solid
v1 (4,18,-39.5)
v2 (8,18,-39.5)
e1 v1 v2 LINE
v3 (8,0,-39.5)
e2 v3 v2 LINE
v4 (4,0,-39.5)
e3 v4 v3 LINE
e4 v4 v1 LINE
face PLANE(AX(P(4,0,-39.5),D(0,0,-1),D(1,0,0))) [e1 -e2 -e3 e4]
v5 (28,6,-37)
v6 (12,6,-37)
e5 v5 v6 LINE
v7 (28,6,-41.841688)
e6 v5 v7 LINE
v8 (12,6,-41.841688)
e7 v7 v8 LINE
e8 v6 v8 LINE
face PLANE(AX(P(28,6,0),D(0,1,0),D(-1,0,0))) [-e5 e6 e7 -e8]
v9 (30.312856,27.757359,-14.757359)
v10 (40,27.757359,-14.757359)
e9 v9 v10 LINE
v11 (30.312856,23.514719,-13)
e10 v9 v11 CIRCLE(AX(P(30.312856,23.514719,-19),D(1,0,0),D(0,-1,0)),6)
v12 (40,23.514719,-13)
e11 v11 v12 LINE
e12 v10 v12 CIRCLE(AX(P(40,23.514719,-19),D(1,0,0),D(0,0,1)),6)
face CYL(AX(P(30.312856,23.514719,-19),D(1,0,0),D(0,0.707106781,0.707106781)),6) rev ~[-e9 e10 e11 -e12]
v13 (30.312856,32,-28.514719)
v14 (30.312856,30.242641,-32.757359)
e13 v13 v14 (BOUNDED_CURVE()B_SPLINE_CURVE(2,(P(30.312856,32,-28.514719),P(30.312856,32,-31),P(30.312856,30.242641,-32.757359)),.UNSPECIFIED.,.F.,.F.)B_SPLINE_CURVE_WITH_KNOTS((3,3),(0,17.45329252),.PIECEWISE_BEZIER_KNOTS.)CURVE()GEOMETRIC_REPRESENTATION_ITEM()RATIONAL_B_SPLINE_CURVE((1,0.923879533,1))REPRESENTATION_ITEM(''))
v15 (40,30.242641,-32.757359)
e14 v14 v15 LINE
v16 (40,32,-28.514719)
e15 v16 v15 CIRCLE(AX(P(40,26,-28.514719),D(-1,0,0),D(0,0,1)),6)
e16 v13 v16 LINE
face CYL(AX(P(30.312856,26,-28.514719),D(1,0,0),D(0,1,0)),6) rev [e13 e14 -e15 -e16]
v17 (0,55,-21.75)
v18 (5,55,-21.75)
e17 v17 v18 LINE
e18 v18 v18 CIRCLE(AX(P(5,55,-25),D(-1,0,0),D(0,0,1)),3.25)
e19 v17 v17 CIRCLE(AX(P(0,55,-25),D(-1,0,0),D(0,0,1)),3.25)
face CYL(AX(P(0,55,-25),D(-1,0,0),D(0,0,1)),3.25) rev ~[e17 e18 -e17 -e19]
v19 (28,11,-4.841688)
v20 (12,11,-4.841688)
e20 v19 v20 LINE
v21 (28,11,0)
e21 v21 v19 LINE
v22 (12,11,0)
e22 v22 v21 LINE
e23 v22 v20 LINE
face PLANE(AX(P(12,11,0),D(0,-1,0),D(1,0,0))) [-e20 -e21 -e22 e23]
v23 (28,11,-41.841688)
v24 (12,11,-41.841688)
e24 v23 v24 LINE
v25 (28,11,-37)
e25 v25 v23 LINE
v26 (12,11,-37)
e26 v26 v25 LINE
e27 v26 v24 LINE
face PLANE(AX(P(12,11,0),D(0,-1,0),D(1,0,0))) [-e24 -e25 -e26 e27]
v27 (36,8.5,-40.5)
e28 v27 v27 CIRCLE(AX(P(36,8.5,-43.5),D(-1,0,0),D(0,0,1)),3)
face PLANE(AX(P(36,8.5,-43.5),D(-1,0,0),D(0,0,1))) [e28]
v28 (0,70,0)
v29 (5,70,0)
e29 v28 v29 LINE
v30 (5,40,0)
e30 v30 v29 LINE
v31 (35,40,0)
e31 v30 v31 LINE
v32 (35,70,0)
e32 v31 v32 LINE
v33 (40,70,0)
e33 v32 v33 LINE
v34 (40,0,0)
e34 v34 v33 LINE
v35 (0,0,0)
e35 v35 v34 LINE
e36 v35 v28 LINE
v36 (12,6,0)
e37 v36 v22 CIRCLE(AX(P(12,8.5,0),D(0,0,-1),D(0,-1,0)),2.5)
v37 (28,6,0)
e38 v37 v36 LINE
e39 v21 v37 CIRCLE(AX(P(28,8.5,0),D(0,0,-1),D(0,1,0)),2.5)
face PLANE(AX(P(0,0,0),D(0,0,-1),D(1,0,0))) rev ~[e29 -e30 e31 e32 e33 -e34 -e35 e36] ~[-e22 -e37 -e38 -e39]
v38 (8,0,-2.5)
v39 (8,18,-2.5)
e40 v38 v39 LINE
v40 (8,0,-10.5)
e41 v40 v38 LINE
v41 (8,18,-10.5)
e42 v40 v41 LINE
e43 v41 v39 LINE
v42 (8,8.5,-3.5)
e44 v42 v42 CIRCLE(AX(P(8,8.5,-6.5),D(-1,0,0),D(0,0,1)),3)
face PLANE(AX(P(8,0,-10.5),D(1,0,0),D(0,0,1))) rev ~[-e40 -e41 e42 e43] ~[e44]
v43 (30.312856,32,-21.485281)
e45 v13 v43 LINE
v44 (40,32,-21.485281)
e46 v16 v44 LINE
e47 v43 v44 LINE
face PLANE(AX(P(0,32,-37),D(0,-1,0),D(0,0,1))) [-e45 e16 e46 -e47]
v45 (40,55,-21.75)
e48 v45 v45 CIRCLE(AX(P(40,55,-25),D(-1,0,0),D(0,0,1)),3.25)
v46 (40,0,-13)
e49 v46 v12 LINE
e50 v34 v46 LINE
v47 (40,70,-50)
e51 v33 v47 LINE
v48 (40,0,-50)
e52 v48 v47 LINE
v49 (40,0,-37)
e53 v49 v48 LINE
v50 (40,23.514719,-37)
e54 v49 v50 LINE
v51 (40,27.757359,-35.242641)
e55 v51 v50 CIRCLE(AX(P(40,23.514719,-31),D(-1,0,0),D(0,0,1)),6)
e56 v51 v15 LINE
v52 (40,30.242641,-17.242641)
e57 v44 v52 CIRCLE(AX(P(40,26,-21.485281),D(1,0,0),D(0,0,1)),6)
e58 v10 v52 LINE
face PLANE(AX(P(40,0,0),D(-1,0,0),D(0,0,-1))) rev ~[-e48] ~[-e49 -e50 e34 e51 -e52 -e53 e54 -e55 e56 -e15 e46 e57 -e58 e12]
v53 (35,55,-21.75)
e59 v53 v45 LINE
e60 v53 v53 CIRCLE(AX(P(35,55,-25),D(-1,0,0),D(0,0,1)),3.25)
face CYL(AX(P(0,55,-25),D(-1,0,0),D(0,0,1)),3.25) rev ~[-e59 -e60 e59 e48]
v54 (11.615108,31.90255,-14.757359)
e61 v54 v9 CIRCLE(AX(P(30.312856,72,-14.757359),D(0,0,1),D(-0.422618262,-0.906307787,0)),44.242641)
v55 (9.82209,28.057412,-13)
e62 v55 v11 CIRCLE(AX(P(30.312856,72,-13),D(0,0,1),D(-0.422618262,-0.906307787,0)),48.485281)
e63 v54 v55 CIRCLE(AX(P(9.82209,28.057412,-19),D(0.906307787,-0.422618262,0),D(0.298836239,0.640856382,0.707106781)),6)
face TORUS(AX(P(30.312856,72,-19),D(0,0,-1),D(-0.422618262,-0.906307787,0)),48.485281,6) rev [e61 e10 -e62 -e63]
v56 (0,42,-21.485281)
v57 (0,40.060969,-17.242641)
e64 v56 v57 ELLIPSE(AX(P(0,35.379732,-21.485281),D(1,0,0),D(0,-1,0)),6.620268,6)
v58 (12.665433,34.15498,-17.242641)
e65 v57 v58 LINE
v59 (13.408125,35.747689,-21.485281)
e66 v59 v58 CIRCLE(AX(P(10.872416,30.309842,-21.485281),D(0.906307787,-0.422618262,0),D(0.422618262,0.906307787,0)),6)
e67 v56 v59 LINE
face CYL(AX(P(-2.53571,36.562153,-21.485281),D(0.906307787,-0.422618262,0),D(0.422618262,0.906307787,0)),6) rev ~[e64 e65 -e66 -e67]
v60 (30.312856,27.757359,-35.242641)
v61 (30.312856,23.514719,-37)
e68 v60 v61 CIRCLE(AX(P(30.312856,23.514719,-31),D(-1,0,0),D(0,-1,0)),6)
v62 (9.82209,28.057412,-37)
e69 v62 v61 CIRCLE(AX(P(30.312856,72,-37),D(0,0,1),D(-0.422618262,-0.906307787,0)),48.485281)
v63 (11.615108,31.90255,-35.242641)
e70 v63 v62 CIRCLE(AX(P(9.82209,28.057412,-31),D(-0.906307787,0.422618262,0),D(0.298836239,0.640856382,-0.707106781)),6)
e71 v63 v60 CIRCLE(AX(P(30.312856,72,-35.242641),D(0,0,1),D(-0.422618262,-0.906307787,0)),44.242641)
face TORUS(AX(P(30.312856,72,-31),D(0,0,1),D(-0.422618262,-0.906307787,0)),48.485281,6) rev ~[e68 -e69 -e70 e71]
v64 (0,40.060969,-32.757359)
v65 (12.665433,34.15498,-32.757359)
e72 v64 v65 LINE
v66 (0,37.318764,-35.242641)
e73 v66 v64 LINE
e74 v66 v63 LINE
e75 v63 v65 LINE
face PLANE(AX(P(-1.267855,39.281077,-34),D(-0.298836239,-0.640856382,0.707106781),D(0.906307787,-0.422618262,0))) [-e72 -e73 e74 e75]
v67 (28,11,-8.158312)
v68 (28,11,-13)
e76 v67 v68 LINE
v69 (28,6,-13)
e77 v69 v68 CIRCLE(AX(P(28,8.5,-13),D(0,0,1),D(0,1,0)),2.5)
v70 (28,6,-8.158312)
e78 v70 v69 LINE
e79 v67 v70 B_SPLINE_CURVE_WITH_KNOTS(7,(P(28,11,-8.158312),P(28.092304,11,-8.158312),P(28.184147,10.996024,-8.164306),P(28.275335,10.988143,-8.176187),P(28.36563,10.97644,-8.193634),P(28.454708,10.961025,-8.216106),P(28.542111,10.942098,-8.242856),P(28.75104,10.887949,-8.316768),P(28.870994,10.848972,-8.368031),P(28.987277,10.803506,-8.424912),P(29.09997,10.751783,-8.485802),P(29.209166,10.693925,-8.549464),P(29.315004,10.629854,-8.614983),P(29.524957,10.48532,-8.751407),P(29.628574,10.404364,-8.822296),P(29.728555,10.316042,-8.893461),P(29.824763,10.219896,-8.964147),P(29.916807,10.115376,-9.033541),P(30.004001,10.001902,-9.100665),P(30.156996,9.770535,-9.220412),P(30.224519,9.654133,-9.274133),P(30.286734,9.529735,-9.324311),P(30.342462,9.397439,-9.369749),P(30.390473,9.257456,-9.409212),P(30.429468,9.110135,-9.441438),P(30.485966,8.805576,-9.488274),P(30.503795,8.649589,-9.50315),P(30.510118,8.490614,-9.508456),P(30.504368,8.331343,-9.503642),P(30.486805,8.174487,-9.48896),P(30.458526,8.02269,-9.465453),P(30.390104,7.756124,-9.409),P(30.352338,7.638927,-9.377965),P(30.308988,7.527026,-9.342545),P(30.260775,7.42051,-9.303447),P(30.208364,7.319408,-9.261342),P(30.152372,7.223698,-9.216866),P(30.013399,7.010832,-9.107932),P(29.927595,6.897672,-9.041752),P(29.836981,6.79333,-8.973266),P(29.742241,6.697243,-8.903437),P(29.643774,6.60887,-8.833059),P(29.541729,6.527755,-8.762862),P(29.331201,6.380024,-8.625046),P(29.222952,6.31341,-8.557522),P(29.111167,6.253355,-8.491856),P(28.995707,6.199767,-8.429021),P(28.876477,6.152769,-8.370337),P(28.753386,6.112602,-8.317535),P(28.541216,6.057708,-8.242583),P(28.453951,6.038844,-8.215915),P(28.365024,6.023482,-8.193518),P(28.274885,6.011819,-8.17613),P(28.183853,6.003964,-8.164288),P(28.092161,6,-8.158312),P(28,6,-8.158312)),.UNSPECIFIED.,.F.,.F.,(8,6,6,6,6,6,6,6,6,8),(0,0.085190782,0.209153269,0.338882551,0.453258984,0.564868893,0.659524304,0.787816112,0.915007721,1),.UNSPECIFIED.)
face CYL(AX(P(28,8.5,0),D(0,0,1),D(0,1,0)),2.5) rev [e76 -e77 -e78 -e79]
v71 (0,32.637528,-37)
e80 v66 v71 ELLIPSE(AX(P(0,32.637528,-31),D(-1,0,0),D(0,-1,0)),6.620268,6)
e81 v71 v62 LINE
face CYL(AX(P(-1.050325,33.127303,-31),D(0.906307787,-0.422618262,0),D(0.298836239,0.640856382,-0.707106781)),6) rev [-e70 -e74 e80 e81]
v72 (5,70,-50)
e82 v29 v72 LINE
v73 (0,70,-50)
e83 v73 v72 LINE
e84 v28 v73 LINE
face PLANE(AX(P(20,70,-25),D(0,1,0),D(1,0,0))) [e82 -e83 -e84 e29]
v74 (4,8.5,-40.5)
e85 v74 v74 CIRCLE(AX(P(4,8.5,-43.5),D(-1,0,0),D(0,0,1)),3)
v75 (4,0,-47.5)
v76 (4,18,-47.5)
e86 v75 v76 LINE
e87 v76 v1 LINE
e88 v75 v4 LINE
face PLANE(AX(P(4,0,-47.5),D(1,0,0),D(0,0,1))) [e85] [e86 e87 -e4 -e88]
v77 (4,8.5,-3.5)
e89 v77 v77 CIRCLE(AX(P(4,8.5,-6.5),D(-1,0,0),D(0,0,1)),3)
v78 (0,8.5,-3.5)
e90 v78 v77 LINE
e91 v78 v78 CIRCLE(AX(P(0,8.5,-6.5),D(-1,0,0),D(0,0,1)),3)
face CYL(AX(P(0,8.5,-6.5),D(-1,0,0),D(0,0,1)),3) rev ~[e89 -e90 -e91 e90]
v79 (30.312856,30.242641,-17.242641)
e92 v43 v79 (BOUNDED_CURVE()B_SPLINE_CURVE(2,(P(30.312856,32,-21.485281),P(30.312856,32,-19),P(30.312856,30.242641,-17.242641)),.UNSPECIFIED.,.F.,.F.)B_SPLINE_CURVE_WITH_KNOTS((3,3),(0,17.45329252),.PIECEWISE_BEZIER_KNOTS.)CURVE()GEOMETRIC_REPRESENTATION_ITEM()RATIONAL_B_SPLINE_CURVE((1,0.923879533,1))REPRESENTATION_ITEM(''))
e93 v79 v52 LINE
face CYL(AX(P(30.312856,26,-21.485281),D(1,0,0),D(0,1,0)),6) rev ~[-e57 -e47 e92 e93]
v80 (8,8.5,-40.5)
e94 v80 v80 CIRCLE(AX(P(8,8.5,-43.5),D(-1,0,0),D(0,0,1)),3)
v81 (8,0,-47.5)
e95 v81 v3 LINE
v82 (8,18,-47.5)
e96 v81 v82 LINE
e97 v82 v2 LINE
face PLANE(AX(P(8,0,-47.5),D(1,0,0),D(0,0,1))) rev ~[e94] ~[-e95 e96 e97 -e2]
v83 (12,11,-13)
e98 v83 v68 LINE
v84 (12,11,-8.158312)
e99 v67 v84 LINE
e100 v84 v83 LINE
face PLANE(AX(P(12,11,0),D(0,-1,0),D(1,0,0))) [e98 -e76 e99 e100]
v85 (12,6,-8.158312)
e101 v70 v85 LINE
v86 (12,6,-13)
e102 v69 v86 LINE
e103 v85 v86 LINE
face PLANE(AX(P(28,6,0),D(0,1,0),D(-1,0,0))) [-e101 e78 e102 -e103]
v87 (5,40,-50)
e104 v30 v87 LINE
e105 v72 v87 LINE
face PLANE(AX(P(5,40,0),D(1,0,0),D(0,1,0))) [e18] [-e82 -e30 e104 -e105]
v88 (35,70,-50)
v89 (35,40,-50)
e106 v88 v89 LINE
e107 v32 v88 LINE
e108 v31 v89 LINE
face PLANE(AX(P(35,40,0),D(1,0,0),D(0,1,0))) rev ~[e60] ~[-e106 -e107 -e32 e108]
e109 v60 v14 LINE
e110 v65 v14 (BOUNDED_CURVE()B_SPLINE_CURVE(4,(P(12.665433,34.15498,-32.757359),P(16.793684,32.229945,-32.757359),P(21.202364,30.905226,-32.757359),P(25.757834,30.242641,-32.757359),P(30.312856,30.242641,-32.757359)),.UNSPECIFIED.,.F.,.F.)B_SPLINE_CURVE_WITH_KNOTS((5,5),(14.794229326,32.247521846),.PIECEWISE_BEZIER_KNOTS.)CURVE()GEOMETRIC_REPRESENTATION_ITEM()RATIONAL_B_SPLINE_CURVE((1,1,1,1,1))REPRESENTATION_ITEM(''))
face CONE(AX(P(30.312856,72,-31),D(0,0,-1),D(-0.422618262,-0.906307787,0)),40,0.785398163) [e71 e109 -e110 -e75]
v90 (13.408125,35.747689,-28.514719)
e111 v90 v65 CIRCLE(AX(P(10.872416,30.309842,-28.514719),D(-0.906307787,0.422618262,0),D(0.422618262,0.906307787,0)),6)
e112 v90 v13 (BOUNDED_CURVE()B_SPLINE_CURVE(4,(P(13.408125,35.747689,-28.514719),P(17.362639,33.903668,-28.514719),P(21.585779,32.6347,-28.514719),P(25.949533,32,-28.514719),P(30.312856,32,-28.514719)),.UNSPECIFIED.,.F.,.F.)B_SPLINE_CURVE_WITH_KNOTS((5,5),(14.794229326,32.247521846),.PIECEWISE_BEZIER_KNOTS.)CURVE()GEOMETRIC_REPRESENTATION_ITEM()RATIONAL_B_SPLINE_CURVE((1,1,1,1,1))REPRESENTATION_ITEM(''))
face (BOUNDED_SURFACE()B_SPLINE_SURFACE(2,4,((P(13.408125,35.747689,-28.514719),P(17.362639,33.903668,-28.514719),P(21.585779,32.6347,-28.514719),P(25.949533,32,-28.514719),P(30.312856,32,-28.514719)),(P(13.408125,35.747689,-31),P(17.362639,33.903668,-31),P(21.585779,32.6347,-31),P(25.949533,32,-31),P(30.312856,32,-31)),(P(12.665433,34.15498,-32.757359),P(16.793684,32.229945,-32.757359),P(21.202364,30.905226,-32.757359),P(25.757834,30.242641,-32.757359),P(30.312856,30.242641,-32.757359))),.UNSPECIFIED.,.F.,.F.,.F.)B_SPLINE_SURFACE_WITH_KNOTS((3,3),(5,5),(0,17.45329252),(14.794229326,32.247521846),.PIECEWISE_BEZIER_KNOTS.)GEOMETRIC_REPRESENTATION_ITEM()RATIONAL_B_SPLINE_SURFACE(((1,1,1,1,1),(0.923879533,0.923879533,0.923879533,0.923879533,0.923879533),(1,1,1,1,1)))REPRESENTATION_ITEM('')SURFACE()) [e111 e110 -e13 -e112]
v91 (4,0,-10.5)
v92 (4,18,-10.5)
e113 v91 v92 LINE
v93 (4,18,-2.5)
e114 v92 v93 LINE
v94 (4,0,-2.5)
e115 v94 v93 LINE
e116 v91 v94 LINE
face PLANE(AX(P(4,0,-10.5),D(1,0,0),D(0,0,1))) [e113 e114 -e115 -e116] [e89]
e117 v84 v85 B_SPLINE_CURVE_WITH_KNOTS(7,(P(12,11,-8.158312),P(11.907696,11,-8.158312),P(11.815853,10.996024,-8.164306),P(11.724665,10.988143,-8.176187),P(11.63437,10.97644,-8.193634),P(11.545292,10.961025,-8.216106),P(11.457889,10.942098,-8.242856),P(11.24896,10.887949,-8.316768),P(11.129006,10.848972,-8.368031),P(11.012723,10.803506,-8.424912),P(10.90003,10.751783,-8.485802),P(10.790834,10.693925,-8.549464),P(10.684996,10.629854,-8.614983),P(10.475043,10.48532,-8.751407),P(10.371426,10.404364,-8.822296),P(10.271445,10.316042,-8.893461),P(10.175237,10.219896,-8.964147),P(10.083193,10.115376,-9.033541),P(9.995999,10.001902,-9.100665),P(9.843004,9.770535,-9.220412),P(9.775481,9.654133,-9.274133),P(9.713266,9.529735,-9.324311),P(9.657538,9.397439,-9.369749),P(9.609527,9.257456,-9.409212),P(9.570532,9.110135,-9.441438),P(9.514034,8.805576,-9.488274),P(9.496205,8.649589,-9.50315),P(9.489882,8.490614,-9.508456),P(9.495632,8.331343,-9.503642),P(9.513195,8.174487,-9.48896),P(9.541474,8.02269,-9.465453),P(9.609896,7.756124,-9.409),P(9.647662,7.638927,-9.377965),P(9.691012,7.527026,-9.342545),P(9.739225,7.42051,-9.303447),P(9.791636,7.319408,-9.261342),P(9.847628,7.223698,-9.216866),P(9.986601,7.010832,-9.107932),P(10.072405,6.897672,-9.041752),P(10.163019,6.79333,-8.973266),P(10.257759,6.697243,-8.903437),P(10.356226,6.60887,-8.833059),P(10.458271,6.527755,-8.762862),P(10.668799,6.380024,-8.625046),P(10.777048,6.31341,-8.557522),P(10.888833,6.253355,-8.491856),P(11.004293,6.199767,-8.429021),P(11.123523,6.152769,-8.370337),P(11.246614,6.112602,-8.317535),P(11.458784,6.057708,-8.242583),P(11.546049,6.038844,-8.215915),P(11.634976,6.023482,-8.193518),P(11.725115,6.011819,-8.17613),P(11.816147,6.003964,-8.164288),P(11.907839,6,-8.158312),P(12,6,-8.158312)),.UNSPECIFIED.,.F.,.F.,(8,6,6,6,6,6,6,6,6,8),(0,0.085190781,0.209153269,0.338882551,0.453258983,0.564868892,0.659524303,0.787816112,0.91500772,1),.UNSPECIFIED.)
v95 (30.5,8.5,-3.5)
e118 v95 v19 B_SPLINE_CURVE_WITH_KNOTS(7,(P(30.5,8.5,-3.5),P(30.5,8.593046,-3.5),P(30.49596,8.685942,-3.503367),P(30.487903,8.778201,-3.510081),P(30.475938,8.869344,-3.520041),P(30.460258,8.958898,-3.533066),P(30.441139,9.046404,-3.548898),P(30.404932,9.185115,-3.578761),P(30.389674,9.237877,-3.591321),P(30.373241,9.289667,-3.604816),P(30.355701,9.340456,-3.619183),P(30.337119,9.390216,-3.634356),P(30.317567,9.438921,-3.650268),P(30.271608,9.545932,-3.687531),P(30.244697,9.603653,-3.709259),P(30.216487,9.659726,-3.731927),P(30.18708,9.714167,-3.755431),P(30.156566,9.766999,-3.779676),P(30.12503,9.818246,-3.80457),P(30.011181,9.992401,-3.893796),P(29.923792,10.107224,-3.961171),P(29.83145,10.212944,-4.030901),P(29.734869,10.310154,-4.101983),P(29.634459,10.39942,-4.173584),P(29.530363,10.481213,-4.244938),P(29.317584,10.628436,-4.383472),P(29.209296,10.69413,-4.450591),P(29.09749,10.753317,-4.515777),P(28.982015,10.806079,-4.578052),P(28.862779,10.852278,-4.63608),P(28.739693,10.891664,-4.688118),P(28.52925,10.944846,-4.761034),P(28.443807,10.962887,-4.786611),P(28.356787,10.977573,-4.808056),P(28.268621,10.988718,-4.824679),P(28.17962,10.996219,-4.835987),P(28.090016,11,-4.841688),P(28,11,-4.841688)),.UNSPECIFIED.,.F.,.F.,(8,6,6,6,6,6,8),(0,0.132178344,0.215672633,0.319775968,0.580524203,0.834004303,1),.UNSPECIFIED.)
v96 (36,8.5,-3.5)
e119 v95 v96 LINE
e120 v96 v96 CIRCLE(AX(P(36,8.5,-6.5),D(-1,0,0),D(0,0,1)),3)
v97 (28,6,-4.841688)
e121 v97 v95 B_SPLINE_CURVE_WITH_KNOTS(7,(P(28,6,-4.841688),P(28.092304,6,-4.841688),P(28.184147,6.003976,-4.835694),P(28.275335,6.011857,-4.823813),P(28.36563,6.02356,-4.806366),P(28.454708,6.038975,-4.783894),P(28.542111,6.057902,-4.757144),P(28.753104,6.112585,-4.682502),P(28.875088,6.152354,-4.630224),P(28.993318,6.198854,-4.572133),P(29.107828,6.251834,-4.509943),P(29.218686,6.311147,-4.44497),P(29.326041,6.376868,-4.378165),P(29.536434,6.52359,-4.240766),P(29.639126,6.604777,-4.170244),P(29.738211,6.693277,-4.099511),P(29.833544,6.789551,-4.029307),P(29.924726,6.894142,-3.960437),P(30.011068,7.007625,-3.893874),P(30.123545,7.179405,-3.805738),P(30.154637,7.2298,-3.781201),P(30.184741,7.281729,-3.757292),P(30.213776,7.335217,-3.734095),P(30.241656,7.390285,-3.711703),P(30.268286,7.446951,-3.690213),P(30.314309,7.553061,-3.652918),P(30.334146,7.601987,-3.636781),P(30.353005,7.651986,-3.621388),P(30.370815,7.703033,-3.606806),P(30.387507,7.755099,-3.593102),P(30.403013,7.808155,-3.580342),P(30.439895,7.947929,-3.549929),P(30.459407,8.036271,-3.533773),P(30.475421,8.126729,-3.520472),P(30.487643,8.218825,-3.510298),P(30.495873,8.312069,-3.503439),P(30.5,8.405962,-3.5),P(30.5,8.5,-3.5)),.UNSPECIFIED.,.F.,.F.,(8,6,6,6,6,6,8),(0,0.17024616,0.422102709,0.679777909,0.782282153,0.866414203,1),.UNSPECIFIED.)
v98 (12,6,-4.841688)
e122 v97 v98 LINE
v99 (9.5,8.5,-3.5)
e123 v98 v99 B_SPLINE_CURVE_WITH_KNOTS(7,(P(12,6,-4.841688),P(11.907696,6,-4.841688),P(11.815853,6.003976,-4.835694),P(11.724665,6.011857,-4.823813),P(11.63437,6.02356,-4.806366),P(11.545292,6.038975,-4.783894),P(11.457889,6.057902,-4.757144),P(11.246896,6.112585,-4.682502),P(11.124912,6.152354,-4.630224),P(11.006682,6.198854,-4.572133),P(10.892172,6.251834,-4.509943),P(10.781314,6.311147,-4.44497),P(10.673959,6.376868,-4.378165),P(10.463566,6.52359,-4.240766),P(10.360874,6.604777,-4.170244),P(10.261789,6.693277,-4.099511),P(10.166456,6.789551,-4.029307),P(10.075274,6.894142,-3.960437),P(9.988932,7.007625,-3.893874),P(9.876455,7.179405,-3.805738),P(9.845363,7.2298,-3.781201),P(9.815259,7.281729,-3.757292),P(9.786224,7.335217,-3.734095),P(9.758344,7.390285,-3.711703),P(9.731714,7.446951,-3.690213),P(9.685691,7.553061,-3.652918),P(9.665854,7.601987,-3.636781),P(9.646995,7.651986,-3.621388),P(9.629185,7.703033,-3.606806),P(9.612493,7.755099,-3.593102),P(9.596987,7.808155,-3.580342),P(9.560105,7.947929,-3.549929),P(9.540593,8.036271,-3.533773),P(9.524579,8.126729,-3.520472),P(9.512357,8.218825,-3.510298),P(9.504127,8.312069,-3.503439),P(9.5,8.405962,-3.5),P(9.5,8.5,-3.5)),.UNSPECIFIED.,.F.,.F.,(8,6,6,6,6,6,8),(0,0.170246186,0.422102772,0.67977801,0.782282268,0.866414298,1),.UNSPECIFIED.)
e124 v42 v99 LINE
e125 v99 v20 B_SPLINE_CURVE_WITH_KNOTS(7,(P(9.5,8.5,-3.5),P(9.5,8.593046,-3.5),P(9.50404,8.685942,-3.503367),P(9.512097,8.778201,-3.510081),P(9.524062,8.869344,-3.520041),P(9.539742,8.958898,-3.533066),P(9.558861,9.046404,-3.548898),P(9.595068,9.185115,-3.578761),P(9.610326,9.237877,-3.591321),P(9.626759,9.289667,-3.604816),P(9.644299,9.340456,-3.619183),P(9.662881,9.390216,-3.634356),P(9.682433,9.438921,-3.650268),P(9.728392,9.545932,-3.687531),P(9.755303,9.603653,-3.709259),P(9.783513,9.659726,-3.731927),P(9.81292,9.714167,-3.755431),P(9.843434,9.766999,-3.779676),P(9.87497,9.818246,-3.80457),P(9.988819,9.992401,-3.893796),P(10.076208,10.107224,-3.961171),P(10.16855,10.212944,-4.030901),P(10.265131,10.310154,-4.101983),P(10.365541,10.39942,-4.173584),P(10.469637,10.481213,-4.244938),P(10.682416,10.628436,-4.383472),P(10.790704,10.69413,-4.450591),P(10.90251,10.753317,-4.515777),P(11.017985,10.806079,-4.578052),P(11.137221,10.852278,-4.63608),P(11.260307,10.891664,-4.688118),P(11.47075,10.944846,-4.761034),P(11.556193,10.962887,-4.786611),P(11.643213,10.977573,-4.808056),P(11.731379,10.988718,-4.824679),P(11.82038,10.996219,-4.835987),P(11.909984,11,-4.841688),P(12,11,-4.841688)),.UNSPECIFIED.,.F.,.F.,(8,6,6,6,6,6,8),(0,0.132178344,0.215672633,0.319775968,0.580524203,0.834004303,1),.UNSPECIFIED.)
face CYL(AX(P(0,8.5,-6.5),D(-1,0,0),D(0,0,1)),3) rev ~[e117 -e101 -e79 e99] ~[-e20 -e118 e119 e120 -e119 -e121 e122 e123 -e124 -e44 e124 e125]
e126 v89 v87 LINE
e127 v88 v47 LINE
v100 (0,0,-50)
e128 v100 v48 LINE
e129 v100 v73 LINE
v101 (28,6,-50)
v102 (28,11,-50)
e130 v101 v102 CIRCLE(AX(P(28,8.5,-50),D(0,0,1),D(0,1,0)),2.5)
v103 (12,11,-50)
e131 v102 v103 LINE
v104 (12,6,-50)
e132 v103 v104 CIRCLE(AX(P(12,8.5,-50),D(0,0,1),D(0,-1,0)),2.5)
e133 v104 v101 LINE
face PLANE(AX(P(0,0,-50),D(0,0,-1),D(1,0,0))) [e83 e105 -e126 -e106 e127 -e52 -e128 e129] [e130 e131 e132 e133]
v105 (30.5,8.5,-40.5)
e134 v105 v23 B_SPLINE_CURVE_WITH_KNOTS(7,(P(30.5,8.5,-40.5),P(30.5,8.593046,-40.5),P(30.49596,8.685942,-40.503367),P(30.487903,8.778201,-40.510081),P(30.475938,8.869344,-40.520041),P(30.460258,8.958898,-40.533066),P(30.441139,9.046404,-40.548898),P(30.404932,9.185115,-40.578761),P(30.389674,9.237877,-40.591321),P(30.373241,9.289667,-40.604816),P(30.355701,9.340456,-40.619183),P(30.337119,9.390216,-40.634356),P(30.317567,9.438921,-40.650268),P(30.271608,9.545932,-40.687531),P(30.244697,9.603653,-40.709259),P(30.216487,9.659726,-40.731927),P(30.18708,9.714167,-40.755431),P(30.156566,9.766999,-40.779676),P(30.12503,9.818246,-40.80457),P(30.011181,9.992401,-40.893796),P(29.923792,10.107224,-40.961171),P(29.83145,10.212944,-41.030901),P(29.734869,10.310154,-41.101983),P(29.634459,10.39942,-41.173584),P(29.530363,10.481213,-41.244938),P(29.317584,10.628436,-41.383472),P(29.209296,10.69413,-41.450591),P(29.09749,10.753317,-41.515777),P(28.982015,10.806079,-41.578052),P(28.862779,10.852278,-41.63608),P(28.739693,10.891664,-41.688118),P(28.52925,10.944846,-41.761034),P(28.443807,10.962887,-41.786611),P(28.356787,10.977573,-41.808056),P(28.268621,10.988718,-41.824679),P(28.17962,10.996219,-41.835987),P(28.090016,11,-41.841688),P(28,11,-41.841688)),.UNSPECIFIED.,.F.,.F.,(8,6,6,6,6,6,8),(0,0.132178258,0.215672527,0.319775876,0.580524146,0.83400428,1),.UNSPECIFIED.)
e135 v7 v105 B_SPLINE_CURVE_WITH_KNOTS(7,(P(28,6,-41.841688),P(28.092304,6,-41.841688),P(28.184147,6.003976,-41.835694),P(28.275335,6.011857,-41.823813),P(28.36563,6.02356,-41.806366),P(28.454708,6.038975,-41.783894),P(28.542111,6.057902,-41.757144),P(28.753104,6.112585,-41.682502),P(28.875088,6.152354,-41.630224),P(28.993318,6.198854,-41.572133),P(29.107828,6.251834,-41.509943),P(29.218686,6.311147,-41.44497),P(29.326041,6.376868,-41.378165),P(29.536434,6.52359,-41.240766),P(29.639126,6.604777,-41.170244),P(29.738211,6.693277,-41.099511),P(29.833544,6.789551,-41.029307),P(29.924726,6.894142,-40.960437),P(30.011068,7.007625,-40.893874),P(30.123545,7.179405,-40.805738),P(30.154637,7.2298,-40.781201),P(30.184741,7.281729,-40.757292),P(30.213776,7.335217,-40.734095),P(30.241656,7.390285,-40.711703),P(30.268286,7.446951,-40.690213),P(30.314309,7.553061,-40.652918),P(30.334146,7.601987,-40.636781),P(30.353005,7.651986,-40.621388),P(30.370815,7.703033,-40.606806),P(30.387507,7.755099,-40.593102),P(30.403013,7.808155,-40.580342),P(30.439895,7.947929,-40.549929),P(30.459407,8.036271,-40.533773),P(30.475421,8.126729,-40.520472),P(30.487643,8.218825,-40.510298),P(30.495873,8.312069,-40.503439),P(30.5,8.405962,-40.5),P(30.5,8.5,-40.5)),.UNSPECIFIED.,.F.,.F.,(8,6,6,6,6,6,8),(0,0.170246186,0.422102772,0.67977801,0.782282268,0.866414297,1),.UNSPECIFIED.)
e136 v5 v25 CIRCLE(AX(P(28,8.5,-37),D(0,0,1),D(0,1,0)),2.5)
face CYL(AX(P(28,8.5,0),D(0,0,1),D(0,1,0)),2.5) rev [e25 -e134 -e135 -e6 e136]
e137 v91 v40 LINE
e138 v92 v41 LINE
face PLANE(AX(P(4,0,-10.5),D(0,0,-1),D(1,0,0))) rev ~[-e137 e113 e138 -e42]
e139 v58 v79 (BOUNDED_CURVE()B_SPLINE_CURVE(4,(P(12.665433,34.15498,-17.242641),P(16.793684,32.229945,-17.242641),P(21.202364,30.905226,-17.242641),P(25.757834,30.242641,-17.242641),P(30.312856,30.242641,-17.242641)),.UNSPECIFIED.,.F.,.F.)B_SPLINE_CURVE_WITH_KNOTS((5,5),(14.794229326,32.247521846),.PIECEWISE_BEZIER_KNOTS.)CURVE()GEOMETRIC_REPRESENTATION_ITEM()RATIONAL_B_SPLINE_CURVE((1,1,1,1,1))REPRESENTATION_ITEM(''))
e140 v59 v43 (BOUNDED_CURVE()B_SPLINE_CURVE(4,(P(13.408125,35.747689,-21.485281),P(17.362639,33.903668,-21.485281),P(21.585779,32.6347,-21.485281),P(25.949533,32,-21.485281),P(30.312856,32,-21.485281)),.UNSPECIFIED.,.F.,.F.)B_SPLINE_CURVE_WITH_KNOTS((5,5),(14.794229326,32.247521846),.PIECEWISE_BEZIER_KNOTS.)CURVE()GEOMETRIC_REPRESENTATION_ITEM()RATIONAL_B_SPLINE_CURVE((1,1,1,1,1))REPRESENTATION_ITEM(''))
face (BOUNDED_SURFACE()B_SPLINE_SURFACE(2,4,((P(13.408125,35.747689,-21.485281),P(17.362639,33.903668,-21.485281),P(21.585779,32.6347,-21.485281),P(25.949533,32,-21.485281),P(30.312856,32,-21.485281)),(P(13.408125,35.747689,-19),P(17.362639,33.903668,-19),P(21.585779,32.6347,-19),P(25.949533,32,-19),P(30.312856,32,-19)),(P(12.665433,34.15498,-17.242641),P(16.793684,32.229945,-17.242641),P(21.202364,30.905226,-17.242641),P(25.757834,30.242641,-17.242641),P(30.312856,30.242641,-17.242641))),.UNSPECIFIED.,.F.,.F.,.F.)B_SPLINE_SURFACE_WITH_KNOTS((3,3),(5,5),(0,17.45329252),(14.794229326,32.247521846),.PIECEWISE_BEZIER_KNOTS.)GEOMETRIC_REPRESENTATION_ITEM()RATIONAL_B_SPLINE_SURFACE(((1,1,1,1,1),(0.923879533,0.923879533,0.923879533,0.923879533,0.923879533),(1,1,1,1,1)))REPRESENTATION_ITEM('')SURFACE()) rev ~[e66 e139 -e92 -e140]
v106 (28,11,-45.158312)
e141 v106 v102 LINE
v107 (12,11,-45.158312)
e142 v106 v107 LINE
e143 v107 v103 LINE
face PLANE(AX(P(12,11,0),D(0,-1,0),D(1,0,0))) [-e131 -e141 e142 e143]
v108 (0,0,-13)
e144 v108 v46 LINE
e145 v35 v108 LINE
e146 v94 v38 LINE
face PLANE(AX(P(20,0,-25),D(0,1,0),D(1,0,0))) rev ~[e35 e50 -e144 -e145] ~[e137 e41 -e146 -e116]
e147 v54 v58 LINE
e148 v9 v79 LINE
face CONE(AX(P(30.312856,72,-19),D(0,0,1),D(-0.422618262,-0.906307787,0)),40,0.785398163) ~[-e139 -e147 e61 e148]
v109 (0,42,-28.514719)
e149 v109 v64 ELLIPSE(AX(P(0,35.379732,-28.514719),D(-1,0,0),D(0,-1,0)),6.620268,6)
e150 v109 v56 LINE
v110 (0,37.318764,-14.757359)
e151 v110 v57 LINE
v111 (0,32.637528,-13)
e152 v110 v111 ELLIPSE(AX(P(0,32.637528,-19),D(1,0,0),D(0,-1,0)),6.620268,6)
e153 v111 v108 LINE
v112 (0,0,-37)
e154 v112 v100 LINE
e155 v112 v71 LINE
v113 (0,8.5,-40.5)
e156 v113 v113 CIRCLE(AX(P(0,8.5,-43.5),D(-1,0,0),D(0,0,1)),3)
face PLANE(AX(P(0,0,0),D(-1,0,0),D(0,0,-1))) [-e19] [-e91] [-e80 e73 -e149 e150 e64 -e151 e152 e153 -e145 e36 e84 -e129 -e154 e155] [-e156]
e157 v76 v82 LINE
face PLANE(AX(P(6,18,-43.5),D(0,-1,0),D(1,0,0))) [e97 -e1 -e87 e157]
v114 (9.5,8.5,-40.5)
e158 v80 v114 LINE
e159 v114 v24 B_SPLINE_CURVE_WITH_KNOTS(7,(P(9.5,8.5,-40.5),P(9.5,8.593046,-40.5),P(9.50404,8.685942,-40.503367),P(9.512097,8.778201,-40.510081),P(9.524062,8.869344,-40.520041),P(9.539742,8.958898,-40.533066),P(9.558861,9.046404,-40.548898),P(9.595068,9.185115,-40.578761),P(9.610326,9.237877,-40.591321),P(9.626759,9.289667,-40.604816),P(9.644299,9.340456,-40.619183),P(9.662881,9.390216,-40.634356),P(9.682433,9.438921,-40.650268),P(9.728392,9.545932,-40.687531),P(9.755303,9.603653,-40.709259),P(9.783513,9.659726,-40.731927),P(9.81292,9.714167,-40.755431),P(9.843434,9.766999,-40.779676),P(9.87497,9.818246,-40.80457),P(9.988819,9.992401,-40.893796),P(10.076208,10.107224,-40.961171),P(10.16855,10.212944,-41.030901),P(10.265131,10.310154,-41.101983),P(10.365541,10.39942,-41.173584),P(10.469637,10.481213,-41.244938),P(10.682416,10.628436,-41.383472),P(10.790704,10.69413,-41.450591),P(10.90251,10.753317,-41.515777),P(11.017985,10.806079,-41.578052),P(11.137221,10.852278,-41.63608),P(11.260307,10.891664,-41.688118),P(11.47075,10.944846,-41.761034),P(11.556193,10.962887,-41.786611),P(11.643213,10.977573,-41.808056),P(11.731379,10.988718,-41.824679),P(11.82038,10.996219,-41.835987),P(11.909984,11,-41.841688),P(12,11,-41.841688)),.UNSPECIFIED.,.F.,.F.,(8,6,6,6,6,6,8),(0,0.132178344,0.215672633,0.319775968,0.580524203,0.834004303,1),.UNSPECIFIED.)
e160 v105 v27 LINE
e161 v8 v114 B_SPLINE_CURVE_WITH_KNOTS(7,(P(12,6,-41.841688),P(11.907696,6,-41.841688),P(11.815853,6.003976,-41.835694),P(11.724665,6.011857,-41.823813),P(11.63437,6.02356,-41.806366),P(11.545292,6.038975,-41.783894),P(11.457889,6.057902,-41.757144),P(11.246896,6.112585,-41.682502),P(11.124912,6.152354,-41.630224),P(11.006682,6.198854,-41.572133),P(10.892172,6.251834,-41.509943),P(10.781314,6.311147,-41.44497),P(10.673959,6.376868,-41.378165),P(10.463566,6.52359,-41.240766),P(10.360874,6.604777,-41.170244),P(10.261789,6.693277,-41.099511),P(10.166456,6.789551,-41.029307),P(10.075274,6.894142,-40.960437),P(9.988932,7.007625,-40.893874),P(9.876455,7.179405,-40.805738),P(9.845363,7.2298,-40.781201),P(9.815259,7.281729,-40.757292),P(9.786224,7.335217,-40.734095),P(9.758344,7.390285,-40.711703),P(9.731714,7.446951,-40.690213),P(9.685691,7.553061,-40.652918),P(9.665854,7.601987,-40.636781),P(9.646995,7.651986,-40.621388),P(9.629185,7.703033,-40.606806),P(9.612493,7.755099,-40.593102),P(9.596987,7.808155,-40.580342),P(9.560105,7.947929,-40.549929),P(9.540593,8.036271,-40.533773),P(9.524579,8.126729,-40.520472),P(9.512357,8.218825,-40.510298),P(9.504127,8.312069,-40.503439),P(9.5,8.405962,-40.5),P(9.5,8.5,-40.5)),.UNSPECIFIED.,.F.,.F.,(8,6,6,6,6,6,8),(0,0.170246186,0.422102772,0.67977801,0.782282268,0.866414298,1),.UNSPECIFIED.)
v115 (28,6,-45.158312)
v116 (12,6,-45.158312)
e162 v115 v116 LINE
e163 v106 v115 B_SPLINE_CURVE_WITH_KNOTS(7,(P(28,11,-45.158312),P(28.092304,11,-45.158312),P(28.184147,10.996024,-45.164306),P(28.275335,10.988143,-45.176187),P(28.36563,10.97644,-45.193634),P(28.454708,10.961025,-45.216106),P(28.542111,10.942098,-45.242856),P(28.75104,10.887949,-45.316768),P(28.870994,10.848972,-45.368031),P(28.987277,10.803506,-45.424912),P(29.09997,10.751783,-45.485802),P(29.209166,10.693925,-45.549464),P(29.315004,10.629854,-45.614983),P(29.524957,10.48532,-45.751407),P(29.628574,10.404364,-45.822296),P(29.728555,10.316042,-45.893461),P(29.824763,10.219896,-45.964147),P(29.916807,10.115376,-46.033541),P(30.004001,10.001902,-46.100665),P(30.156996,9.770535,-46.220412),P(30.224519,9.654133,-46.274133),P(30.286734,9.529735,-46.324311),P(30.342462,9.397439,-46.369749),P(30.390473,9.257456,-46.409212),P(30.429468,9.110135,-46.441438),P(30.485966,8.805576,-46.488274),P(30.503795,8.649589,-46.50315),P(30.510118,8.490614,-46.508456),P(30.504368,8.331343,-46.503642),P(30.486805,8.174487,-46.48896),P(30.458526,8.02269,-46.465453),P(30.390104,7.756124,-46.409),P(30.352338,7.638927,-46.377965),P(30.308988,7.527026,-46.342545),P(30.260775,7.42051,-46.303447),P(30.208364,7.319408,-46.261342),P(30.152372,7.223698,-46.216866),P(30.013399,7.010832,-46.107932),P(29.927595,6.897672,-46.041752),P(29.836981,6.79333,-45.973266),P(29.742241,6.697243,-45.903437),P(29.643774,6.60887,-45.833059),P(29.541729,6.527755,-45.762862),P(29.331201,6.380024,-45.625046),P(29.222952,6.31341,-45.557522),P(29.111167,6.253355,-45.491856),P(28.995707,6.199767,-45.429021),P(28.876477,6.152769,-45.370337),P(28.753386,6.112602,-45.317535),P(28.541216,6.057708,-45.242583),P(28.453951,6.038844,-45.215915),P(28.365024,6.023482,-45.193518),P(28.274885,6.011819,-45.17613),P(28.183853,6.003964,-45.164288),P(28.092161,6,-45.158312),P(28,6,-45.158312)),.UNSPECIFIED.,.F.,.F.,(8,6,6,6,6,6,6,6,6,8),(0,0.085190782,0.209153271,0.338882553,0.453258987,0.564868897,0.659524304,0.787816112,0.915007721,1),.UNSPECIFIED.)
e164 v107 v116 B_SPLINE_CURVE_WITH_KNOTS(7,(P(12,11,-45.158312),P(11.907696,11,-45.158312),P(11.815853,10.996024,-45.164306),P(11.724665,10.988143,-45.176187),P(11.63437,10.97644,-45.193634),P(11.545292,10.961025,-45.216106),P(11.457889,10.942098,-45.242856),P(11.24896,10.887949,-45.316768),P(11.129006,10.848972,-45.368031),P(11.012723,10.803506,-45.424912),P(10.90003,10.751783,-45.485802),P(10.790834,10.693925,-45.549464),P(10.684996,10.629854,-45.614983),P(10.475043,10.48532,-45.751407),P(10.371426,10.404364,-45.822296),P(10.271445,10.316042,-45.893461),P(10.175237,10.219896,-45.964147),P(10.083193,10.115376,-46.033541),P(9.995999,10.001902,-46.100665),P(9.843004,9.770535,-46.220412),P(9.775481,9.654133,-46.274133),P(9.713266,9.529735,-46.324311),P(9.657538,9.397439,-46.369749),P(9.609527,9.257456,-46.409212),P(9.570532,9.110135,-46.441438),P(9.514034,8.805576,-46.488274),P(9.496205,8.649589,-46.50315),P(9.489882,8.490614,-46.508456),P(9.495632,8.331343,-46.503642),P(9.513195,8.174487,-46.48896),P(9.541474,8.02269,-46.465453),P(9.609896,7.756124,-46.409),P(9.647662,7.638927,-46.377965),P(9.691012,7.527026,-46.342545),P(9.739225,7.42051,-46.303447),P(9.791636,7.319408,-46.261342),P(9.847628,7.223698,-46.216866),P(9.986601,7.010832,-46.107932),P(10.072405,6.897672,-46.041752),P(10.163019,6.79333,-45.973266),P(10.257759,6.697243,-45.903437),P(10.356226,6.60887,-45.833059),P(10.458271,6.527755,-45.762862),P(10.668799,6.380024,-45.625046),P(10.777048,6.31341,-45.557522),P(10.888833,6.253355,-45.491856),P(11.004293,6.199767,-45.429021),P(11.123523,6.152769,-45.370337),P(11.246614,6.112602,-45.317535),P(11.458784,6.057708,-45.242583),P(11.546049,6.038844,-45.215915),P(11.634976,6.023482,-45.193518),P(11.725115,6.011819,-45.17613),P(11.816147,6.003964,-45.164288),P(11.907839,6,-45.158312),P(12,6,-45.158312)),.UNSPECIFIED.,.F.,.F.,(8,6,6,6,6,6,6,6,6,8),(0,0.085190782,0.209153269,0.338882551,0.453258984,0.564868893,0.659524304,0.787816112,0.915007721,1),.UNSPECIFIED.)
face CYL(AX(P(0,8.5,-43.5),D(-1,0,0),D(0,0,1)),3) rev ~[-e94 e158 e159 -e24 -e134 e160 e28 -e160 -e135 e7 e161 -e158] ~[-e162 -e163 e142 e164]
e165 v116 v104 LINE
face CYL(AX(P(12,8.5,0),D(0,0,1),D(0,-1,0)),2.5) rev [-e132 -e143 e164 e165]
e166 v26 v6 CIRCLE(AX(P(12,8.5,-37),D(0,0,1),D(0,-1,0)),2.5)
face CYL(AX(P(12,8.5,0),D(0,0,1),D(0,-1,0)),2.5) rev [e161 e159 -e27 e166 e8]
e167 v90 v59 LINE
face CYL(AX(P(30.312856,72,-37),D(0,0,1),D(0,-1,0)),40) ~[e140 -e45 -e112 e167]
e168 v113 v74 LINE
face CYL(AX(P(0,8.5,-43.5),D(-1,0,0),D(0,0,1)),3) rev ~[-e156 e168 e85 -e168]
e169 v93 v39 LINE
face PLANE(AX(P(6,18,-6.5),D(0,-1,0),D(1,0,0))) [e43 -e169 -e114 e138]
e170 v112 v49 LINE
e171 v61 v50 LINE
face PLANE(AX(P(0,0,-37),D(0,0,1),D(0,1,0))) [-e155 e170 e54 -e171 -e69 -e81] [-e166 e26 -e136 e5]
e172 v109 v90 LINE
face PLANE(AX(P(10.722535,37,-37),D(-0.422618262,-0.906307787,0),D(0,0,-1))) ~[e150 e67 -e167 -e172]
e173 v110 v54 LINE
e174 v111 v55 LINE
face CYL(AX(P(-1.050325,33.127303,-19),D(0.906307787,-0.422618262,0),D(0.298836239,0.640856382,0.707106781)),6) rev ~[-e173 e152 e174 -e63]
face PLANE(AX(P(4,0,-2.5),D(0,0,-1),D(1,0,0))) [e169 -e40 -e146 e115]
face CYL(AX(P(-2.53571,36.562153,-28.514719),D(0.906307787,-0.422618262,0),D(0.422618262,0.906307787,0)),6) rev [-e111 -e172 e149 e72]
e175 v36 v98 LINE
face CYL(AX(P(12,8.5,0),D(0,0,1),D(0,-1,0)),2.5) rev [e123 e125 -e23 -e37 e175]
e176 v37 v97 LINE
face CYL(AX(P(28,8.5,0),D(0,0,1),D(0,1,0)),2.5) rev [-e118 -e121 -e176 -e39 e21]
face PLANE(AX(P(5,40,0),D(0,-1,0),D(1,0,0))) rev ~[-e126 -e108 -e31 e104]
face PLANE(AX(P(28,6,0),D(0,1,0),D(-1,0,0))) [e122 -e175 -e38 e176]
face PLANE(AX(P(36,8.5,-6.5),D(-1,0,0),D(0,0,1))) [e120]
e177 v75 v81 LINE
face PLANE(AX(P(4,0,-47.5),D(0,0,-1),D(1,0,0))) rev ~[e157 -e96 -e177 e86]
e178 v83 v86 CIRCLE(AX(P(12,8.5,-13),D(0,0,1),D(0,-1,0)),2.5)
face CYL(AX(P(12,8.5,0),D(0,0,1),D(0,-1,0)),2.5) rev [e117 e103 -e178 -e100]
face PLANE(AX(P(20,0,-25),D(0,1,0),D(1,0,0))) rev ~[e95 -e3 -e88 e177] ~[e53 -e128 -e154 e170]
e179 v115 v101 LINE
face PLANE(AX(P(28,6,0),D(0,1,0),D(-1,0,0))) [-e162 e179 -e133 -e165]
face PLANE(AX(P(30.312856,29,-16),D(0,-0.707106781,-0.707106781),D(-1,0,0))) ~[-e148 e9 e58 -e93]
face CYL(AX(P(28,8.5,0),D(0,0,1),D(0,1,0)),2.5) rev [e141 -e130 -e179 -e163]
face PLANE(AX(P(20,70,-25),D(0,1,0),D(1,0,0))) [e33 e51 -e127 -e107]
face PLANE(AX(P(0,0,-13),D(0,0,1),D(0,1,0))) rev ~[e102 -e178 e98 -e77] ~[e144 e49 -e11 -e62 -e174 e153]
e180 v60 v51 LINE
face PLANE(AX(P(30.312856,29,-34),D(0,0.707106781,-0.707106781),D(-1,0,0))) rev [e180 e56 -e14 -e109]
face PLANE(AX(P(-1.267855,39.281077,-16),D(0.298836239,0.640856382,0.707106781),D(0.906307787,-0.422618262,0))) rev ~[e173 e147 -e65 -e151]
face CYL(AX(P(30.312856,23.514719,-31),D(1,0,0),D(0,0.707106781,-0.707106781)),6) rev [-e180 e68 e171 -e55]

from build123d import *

# Parameters (mm, degrees)
SKETCH1_W           = 40
SKETCH1_H           = 50
BOSS_EXTRUDE1_DEPTH = 70
SKETCH2_W           = 30
SKETCH2_H           = 30
CUT_EXTRUDE1_DEPTH  = 51
SKETCH3_W           = 24
SKETCH3_H           = 32
CUT_EXTRUDE2_DEPTH  = 41
SKETCH8_R           = 3.25
CUT_EXTRUDE6_DEPTH  = 41
SKETCH5_R           = 3
CUT_EXTRUDE7_DEPTH  = 36
SKETCH9_W           = 4
SKETCH9_H           = 8
CUT_EXTRUDE8_DEPTH  = 18
CUT_EXTRUDE9_DEPTH  = 51
CHAMFER2_SIZE       = 10
CHAMFER2_SIZE2      = 21.445069205
FILLET3_R           = 40
CHAMFER4_SIZE       = 6
FILLET4_R           = 6


with BuildPart() as part:
    # Sketch1 → Boss-Extrude1 (new body)
    with BuildSketch(Plane(origin=(0, 0, 0), x_dir=(1, 0, 0), z_dir=(0, 1, 0))):
        with Locations((20, 25)):
            Rectangle(SKETCH1_W, SKETCH1_H)
    extrude(amount=BOSS_EXTRUDE1_DEPTH)

    # Sketch2 → Cut-Extrude1 (cut, through all)
    with BuildSketch(Plane.XY):
        with Locations((20, 55)):
            Rectangle(SKETCH2_W, SKETCH2_H)
    extrude(amount=-CUT_EXTRUDE1_DEPTH, mode=Mode.SUBTRACT)

    # Sketch3 → Cut-Extrude2 (cut, through all)
    with BuildSketch(Plane.ZY):
        with Locations((-25, 16)):
            Rectangle(SKETCH3_W, SKETCH3_H)
    extrude(amount=-CUT_EXTRUDE2_DEPTH, mode=Mode.SUBTRACT)

    # Sketch8 → Cut-Extrude6 (cut, through all)
    with BuildSketch(Plane.ZY):
        with Locations((-25, 55)):
            Circle(SKETCH8_R)
    extrude(amount=-CUT_EXTRUDE6_DEPTH, mode=Mode.SUBTRACT)

    # Sketch5 → Cut-Extrude7 (cut)
    with BuildSketch(Plane.ZY):
        with Locations((-43.5, 8.5)):
            Circle(SKETCH5_R)
        with Locations((-6.5, 8.5)):
            Circle(SKETCH5_R)
    extrude(amount=-CUT_EXTRUDE7_DEPTH, mode=Mode.SUBTRACT)

    # Sketch9 → Cut-Extrude8 (cut)
    with BuildSketch(Plane.XZ):
        with Locations((6, -43.5)):
            Rectangle(SKETCH9_W, SKETCH9_H)
        with Locations((6, -6.5)):
            Rectangle(SKETCH9_W, SKETCH9_H)
    extrude(amount=-CUT_EXTRUDE8_DEPTH, mode=Mode.SUBTRACT)

    # Sketch10 → Cut-Extrude9 (cut, through all)
    with BuildSketch(Plane.XY):
        with BuildLine():
            Line((28, 6), (12, 6))
            ThreePointArc((12, 6), (9.5, 8.5), (12, 11))
            Line((12, 11), (28, 11))
            ThreePointArc((28, 11), (30.5, 8.5), (28, 6))
        make_face()
    extrude(amount=-CUT_EXTRUDE9_DEPTH, mode=Mode.SUBTRACT)

    # Chamfer2
    chamfer2_edges = [part.edges().sort_by_distance(p)[0] for p in [
        (0, 32, -25),
    ]]
    chamfer2_side = [part.faces().sort_by_distance(p)[0] for p in [
        (0, 40.838498112, -25),
    ]]
    chamfer(chamfer2_edges, length=CHAMFER2_SIZE, length2=CHAMFER2_SIZE2, reference=chamfer2_side[0])

    # Fillet3
    fillet3_edges = [part.edges().sort_by_distance(p)[0] for p in [
        (21.445069205, 32, -25),
    ]]
    fillet(fillet3_edges, radius=FILLET3_R)

    # Chamfer4
    chamfer4_edges = [part.edges().sort_by_distance(p)[0] for p in [
        (6.704062621, 38.873844259, -13),
        (6.704062621, 38.873844259, -37),
        (21.655271153, 32.948159715, -37),
        (21.655271153, 32.948159715, -13),
        (35.156427855, 32, -37),
        (35.156427855, 32, -13),
    ]]
    chamfer(chamfer4_edges, length=CHAMFER4_SIZE)

    # Fillet4
    fillet4_edges = [part.edges().sort_by_distance(p)[0] for p in [
        (35.156427855, 26, -13),
        (20.35663347, 27.090383672, -13),
        (5.436207835, 32.844787141, -13),
        (6.704062621, 38.873844259, -31),
        (6.704062621, 38.873844259, -19),
        (21.655271153, 32.948159715, -31),
        (21.655271153, 32.948159715, -19),
        (35.156427855, 32, -31),
        (35.156427855, 32, -19),
        (35.156427855, 26, -37),
        (20.35663347, 27.090383672, -37),
        (5.436207835, 32.844787141, -37),
    ]]
    fillet(fillet4_edges, radius=FILLET4_R)


solid = part.part
